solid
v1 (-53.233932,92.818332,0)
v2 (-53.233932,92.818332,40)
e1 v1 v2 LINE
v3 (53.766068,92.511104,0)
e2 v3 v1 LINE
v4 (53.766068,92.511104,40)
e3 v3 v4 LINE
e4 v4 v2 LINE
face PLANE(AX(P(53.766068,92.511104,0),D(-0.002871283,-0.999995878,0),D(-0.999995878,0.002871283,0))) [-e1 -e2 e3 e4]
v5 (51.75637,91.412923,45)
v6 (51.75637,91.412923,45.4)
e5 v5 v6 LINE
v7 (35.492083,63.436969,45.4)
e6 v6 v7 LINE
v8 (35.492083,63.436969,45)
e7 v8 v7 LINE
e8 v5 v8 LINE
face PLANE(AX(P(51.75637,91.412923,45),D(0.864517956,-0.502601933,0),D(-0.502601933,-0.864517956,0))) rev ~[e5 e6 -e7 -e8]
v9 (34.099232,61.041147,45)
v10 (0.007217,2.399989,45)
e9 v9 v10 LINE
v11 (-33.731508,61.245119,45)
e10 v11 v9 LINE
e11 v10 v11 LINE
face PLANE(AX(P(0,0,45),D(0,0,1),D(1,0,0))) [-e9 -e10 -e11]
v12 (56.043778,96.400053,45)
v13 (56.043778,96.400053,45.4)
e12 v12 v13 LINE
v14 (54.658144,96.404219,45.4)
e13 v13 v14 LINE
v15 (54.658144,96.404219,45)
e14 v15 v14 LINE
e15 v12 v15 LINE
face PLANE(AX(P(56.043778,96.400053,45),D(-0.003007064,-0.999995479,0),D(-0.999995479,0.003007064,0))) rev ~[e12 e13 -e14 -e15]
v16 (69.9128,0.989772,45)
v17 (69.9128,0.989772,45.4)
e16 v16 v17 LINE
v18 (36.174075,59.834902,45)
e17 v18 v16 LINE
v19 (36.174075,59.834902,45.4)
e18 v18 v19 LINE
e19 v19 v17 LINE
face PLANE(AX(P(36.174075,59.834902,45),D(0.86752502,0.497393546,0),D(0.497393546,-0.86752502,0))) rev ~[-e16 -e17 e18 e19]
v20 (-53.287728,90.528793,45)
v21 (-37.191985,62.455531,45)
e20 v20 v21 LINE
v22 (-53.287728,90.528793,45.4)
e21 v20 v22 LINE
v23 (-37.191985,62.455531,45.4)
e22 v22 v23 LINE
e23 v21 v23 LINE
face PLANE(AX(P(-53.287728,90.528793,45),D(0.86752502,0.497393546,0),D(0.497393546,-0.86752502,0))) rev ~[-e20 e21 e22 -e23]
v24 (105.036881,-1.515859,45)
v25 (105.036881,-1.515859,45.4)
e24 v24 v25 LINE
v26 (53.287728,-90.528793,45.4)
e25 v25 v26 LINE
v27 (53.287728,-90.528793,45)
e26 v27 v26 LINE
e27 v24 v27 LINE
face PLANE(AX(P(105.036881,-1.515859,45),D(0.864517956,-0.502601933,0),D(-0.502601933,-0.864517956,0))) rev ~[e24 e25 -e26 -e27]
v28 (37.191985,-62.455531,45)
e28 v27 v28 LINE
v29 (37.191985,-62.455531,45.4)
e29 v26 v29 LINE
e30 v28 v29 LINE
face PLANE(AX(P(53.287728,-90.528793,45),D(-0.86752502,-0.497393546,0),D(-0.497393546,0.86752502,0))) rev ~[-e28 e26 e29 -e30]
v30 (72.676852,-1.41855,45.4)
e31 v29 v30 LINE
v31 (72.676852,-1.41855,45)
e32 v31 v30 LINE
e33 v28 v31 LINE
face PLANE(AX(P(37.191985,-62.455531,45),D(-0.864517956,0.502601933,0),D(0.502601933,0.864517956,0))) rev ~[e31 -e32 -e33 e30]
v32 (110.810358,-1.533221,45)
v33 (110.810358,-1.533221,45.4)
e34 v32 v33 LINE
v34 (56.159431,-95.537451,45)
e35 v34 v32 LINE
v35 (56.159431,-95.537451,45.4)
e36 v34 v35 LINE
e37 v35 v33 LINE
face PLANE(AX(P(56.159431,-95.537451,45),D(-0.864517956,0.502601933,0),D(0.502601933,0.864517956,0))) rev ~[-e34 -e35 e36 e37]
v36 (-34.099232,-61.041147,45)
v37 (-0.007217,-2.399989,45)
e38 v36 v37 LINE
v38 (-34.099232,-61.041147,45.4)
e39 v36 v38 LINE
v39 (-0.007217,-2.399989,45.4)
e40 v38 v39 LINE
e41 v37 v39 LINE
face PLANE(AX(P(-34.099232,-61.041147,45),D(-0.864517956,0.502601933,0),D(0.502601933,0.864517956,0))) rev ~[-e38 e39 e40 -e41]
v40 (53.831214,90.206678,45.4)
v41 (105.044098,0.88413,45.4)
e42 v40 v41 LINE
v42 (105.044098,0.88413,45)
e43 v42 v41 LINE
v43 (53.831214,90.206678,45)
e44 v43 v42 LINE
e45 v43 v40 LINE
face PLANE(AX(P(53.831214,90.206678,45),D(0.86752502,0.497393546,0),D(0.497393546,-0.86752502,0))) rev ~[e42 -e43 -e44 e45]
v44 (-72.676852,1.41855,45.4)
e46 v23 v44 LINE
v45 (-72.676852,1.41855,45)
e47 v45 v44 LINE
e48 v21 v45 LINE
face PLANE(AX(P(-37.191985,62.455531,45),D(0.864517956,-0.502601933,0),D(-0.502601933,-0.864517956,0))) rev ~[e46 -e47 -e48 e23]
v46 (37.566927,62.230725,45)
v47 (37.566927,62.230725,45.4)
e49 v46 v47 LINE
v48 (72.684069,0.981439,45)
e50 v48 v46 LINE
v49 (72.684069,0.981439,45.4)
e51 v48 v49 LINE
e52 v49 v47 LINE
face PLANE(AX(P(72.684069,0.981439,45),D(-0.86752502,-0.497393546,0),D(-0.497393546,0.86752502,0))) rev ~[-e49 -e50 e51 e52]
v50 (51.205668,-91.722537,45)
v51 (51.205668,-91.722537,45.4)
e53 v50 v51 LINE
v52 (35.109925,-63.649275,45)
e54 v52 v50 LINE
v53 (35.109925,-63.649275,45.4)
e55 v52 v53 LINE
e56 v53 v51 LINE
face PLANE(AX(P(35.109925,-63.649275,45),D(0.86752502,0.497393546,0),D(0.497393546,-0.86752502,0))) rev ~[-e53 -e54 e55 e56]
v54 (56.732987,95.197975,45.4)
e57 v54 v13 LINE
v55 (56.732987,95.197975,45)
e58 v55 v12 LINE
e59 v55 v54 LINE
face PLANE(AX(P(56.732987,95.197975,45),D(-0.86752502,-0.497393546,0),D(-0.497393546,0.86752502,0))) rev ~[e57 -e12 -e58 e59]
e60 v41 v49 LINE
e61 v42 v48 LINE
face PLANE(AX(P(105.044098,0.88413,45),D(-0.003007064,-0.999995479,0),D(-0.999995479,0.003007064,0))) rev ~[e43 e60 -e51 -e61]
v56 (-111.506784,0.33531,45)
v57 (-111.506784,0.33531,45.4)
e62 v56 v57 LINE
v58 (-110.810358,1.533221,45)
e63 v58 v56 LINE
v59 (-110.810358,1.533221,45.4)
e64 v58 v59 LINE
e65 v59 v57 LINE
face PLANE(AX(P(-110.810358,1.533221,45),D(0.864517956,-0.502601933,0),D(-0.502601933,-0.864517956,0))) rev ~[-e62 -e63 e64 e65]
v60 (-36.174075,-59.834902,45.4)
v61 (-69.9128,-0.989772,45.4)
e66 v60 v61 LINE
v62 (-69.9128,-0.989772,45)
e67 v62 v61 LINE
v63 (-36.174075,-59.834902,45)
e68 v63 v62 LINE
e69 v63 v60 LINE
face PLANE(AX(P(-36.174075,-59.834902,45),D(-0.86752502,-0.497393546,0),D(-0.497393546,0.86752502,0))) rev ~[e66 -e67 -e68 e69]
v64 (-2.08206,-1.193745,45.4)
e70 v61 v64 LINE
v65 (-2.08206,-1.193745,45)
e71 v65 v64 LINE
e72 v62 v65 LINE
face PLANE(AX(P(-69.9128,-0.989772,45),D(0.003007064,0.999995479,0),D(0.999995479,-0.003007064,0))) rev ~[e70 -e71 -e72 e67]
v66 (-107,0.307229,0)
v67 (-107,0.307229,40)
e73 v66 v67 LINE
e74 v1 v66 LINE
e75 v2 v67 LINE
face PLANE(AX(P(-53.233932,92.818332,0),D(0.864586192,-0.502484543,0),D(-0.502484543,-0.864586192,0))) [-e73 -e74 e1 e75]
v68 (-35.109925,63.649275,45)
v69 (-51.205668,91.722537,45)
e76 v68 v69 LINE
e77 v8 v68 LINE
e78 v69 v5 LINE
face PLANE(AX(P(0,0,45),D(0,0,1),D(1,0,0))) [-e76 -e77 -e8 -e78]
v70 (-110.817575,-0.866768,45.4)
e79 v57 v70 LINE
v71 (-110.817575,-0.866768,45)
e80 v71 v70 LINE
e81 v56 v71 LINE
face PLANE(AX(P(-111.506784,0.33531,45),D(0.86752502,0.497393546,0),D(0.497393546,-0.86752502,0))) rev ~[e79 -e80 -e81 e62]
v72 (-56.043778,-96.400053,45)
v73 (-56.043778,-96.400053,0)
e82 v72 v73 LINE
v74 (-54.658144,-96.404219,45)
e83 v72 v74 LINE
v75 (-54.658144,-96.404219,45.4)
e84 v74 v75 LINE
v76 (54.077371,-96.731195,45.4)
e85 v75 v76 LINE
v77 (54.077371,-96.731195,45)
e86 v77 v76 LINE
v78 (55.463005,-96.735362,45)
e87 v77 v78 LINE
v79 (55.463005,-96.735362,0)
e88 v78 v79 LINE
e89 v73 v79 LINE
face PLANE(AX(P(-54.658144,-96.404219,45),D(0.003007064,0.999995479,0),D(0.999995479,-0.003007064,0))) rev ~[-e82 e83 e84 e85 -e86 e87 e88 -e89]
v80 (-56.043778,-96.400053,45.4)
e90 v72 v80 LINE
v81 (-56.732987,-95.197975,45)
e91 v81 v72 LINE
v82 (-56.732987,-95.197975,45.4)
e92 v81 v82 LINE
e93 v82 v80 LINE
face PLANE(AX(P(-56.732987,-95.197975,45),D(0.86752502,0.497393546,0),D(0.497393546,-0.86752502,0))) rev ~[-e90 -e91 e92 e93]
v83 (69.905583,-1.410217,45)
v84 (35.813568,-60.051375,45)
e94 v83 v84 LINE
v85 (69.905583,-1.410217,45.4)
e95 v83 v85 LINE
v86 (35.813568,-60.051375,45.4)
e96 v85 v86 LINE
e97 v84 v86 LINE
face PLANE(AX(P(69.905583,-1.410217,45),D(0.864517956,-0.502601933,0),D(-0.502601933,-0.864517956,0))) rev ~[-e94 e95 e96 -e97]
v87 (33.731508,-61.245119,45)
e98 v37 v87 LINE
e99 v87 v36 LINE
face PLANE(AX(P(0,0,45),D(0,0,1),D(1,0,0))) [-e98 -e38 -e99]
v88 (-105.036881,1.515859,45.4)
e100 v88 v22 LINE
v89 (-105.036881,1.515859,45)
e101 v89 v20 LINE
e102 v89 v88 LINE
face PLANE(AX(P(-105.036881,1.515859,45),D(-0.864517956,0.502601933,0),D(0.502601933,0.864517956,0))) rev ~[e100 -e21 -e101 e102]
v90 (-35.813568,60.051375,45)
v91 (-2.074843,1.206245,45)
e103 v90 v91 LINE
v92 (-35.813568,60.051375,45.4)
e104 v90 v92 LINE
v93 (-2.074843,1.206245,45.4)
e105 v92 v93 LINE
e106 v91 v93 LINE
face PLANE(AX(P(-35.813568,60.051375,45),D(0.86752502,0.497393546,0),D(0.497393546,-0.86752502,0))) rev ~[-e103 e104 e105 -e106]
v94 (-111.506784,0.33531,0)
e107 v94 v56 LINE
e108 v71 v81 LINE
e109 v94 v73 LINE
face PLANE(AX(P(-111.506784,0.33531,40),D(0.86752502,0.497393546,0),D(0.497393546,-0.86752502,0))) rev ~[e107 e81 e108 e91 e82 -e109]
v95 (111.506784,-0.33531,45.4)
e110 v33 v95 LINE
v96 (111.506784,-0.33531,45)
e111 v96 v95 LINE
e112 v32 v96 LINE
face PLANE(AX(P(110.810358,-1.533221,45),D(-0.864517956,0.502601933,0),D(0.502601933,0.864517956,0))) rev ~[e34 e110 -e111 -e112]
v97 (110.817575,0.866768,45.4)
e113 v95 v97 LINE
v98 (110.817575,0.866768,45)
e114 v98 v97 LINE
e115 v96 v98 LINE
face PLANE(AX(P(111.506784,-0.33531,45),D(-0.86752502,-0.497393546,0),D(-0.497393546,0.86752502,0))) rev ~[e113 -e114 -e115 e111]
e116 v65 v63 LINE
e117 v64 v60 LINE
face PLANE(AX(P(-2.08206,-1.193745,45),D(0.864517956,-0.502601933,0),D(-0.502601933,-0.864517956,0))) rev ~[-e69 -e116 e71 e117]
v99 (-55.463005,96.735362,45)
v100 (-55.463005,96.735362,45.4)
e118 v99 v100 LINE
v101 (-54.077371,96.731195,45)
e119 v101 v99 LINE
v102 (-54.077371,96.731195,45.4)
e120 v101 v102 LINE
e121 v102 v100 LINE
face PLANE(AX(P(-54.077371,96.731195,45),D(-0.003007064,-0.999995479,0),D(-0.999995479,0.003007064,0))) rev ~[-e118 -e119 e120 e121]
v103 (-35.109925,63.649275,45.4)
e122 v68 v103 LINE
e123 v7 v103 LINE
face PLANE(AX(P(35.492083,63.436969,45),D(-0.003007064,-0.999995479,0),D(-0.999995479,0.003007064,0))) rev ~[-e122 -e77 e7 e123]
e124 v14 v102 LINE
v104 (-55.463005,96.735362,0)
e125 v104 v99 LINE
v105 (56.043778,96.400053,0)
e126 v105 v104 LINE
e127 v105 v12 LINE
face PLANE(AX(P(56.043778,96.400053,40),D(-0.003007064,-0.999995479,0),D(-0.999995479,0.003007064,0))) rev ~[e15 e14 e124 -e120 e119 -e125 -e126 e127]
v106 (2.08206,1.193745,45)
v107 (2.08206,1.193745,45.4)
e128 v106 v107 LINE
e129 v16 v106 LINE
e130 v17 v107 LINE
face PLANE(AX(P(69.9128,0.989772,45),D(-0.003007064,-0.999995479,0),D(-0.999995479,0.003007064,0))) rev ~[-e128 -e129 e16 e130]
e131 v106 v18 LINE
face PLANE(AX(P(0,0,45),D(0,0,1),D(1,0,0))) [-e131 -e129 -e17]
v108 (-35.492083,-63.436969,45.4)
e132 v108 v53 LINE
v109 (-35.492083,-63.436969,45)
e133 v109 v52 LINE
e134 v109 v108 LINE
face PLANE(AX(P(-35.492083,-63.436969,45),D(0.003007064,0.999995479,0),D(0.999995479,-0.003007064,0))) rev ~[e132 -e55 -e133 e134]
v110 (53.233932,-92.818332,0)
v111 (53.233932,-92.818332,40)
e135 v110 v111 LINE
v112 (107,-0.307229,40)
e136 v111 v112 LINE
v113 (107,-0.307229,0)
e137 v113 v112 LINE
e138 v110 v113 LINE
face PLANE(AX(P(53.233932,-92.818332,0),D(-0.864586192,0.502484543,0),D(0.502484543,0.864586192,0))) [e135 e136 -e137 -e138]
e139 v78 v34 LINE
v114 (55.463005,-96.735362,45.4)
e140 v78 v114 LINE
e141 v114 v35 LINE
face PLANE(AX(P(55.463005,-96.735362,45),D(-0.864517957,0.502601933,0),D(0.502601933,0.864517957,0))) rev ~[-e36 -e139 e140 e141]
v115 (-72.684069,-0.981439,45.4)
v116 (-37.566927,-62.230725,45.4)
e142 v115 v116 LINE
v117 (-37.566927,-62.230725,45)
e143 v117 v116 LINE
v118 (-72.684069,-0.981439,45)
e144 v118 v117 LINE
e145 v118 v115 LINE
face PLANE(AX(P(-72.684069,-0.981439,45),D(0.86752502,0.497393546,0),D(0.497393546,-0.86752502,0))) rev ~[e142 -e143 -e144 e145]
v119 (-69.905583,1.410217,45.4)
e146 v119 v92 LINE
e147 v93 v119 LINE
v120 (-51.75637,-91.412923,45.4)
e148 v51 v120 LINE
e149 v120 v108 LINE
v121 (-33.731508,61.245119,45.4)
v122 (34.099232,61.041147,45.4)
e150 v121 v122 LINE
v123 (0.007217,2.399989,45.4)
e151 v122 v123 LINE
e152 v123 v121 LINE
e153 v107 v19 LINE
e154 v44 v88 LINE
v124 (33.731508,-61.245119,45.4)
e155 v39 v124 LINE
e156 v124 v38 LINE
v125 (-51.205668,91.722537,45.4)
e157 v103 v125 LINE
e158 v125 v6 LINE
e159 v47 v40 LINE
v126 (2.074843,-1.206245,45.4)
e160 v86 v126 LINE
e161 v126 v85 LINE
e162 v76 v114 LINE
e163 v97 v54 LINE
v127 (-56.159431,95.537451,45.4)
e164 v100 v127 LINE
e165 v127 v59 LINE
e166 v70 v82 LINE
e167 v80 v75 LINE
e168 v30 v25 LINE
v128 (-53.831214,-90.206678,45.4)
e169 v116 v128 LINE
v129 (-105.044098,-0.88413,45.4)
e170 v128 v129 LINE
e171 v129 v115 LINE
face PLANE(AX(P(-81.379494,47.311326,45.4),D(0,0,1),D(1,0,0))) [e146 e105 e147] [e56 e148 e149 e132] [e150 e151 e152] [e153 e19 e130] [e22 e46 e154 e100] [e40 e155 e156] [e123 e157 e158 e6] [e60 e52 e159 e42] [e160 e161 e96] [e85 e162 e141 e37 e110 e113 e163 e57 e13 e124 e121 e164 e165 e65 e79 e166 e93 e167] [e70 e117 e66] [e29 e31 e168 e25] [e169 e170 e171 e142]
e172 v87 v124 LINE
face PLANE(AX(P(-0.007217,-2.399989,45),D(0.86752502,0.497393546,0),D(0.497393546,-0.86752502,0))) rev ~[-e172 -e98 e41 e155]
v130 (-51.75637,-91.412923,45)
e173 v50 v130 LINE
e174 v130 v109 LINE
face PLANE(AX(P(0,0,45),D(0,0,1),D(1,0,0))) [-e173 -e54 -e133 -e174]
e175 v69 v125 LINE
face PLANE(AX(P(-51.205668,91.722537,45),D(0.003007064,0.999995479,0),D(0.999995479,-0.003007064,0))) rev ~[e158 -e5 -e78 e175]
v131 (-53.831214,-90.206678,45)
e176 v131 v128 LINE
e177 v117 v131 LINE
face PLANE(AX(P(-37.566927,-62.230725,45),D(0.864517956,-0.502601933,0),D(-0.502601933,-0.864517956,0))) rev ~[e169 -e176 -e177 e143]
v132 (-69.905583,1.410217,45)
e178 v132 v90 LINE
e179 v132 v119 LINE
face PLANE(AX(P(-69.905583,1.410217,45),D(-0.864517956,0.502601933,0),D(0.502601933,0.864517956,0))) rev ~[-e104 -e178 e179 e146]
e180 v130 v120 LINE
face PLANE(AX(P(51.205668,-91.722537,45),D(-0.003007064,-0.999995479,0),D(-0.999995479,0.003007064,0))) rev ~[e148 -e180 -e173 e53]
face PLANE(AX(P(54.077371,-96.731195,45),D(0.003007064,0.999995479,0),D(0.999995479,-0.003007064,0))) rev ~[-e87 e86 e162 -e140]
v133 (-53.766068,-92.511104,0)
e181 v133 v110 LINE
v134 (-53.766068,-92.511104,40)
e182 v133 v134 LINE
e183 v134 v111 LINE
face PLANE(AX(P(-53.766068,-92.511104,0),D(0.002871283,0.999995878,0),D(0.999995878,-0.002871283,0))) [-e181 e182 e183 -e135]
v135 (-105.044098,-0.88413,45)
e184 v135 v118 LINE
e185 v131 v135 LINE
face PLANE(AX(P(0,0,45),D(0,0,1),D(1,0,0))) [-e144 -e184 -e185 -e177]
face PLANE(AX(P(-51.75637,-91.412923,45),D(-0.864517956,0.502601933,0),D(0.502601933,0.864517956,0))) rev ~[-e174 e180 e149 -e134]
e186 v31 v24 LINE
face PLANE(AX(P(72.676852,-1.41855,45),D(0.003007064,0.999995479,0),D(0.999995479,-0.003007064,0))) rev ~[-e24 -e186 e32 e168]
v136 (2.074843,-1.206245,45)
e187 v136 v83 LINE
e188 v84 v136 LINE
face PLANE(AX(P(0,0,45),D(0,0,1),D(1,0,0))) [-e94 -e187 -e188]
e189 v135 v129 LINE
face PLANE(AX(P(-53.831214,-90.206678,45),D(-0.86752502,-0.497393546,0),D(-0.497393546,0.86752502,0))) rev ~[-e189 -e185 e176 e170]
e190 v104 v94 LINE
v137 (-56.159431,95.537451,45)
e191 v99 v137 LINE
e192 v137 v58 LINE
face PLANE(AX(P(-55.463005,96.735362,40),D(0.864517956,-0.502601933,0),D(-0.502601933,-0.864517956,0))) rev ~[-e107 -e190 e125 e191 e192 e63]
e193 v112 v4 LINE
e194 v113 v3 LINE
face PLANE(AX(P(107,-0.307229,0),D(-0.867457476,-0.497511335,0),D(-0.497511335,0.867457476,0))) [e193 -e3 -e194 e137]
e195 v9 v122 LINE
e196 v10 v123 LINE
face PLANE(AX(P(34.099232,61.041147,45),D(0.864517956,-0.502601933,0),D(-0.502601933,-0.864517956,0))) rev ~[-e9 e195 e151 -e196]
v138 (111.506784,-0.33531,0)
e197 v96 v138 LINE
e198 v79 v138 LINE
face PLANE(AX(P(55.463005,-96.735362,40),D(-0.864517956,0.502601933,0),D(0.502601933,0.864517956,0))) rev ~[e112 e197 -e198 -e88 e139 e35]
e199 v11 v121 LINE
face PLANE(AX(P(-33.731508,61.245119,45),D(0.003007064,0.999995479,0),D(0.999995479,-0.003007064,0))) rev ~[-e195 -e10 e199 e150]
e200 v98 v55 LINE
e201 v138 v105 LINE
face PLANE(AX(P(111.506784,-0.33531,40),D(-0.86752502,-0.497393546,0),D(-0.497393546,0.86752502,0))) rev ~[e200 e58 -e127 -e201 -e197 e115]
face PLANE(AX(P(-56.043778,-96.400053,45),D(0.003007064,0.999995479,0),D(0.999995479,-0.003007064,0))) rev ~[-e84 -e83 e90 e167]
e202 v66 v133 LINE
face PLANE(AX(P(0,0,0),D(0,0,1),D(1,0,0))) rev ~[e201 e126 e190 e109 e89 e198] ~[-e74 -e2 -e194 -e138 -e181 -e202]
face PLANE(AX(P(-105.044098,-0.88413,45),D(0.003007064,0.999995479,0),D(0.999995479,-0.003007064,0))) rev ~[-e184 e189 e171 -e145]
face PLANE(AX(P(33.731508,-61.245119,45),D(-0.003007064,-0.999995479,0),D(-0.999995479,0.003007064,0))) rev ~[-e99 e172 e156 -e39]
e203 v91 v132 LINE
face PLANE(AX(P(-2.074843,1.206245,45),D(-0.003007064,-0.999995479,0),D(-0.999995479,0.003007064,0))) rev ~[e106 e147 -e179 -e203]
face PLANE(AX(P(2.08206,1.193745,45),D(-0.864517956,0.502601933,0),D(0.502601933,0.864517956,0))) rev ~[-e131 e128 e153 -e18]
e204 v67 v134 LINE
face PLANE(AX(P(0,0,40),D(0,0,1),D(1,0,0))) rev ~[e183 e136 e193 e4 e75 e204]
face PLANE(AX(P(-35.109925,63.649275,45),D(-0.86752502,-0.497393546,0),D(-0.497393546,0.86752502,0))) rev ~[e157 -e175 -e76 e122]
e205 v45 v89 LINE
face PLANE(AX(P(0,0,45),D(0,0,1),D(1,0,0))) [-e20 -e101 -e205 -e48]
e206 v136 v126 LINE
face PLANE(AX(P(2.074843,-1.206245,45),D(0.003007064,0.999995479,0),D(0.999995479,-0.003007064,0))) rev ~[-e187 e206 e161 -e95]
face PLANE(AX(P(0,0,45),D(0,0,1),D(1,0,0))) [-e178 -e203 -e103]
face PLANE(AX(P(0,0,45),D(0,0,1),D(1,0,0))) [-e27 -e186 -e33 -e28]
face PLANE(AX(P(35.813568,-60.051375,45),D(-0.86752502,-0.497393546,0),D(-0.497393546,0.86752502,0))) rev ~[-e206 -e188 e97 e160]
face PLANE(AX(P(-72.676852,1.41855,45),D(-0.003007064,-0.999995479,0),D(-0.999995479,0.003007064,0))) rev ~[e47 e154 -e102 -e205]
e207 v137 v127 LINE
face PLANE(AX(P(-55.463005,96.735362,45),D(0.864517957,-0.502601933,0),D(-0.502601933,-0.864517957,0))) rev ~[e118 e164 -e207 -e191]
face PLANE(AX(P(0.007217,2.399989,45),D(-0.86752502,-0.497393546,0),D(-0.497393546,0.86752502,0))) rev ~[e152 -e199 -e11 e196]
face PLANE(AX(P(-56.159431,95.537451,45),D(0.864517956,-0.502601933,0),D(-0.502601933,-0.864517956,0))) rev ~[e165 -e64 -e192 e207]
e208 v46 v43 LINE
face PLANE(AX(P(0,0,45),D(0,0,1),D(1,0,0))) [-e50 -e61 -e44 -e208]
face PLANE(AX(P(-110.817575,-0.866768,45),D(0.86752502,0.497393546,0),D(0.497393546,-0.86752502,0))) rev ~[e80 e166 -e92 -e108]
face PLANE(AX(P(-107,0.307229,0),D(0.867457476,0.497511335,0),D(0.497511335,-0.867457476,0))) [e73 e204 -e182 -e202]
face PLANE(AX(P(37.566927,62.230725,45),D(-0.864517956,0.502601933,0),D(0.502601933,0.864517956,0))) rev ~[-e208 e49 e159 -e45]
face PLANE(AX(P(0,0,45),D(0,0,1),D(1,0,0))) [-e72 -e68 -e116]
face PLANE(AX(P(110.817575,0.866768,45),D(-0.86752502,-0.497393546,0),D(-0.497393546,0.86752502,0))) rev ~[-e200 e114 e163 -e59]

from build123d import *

# Parameters (mm, degrees)
SALIENTE_EXTRUIR1_DEPTH = 40
SALIENTE_EXTRUIR2_DEPTH = 5
SALIENTE_EXTRUIR3_DEPTH = 0.4


with BuildPart() as part:
    # Croquis1 → Saliente-Extruir1 (new body)
    with BuildSketch(Plane.XY):
        Polygon((-55.463005259, 96.735362128), (-111.506783676, 0.33530954), (-56.043778418, -96.400052588), (55.463005259, -96.735362128), (111.506783676, -0.33530954), (56.043778418, 96.400052588), align=None)
        Polygon((53.766067764, 92.51110391), (-53.233932236, 92.8183325), (-107, 0.30722859), (-53.766067764, -92.51110391), (53.233932236, -92.8183325), (107, -0.30722859), align=None, mode=Mode.SUBTRACT)
    extrude(amount=SALIENTE_EXTRUIR1_DEPTH)

    # Croquis2 → Saliente-Extruir2 (add)
    with BuildSketch(Plane.XY.offset(40)):
        Polygon((111.506783676, -0.33530954), (56.043778418, 96.400052588), (-55.463005259, 96.735362128), (-111.506783676, 0.33530954), (-56.043778418, -96.400052588), (55.463005259, -96.735362128), align=None)
    extrude(amount=SALIENTE_EXTRUIR2_DEPTH)

    # Croquis4 → Saliente-Extruir3 (add)
    with BuildSketch(Plane.XY.offset(45)):
        Polygon((-56.159430926, 95.537450908), (-110.810358009, 1.533220759), (-105.03688142, 1.515859468), (-53.287727951, 90.528792869), align=None)
        Polygon((-111.506783676, 0.33530954), (-110.817574962, -0.86676839), (-105.044098374, -0.884129681), (-105.733307088, 0.317948248), (-105.03688142, 1.515859468), (-110.810358009, 1.533220759), align=None)
        Polygon((-105.044098374, -0.884129681), (-110.817574962, -0.86676839), (-56.732987132, -95.197974658), (-53.831213518, -90.20667791), align=None)
        Polygon((-105.733307088, 0.317948248), (-105.044098374, -0.884129681), (-72.68406869, -0.981438798), (-73.373277404, 0.220639131), (-72.676851737, 1.418550351), (-105.03688142, 1.515859468), align=None)
        Polygon((-55.463005259, 96.735362128), (-56.159430926, 95.537450908), (-53.287727951, 90.528792869), (-52.591302284, 91.726704088), (-51.205667902, 91.722537378), (-54.077370877, 96.731195418), align=None)
        Polygon((54.658144036, 96.404219298), (-54.077370877, 96.731195418), (-51.205667902, 91.722537378), (51.756370423, 91.41292255), align=None)
        Polygon((-52.591302284, 91.726704088), (-53.287727951, 90.528792869), (-37.191985277, 62.455530537), (-36.495559609, 63.653441757), (-35.109925228, 63.649275047), (-51.205667902, 91.722537378), align=None)
        Polygon((56.043778418, 96.400052588), (54.658144036, 96.404219298), (51.756370423, 91.41292255), (53.142004804, 91.40875584), (53.831213518, 90.20667791), (56.732987132, 95.197974658), align=None)
        Polygon((53.142004804, 91.40875584), (51.756370423, 91.41292255), (35.492083414, 63.436969335), (36.877717795, 63.432802625), (37.566926509, 62.230724696), (53.831213518, 90.20667791), align=None)
        Polygon((110.817574962, 0.86676839), (56.732987132, 95.197974658), (53.831213518, 90.20667791), (105.044098374, 0.884129681), align=None)
        Polygon((72.676851737, -1.418550351), (105.03688142, -1.515859468), (105.733307088, -0.317948248), (105.044098374, 0.884129681), (72.68406869, 0.981438798), (73.373277404, -0.220639131), align=None)
        Polygon((105.03688142, -1.515859468), (110.810358009, -1.533220759), (111.506783676, -0.33530954), (110.817574962, 0.86676839), (105.044098374, 0.884129681), (105.733307088, -0.317948248), align=None)
        Polygon((53.287727951, -90.528792869), (56.159430926, -95.537450908), (110.810358009, -1.533220759), (105.03688142, -1.515859468), align=None)
        Polygon((-53.831213518, -90.20667791), (-56.732987132, -95.197974658), (-56.043778418, -96.400052588), (-54.658144036, -96.404219298), (-51.756370423, -91.41292255), (-53.142004804, -91.40875584), align=None)
        Polygon((-51.756370423, -91.41292255), (-54.658144036, -96.404219298), (54.077370877, -96.731195418), (51.205667902, -91.722537378), align=None)
        Polygon((51.205667902, -91.722537378), (54.077370877, -96.731195418), (55.463005259, -96.735362128), (56.159430926, -95.537450908), (53.287727951, -90.528792869), (52.591302284, -91.726704088), align=None)
        Polygon((35.109925228, -63.649275047), (51.205667902, -91.722537378), (52.591302284, -91.726704088), (53.287727951, -90.528792869), (37.191985277, -62.455530537), (36.495559609, -63.653441757), align=None)
        Polygon((-37.566926509, -62.230724696), (-53.831213518, -90.20667791), (-53.142004804, -91.40875584), (-51.756370423, -91.41292255), (-35.492083414, -63.436969335), (-36.877717795, -63.432802625), align=None)
        Polygon((-36.174075174, -59.834902257), (-37.566926509, -62.230724696), (-36.877717795, -63.432802625), (-35.492083414, -63.436969335), (-34.099232079, -61.041146896), (-35.48486646, -61.036980186), align=None)
        Polygon((-34.099232079, -61.041146896), (-35.492083414, -63.436969335), (35.109925228, -63.649275047), (33.7315078, -61.245119188), align=None)
        Polygon((-69.912799928, -0.989772218), (-72.68406869, -0.981438798), (-37.566926509, -62.230724696), (-36.174075174, -59.834902257), align=None)
        Polygon((33.7315078, -61.245119188), (35.109925228, -63.649275047), (36.495559609, -63.653441757), (37.191985277, -62.455530537), (35.813567849, -60.051374678), (35.117142181, -61.249285898), align=None)
        Polygon((2.074843095, -1.206244639), (0.689208714, -1.20207793), (-0.007216953, -2.399989149), (33.7315078, -61.245119188), (35.117142181, -61.249285898), (35.813567849, -60.051374678), align=None)
        Polygon((-0.696425667, -1.19791122), (-2.082060049, -1.19374451), (-36.174075174, -59.834902257), (-35.48486646, -61.036980186), (-34.099232079, -61.041146896), (-0.007216953, -2.399989149), align=None)
        Polygon((72.676851737, -1.418550351), (69.905582974, -1.410216931), (35.813567849, -60.051374678), (37.191985277, -62.455530537), align=None)
        Polygon((70.602008642, -0.212305711), (69.905582974, -1.410216931), (72.676851737, -1.418550351), (73.373277404, -0.220639131), (72.68406869, 0.981438798), (69.912799928, 0.989772218), align=None)
        Polygon((36.174075174, 59.834902257), (69.912799928, 0.989772218), (72.68406869, 0.981438798), (37.566926509, 62.230724696), align=None)
        Polygon((0.689208714, -1.20207793), (-0.696425667, -1.19791122), (-0.007216953, -2.399989149), align=None)
        Polygon((-1.385634381, 0.00416671), (-2.082060049, -1.19374451), (-0.696425667, -1.19791122), align=None)
        Polygon((-1.385634381, 0.00416671), (-0.696425667, -1.19791122), (0.689208714, -1.20207793), (1.385634381, -0.00416671), (0.696425667, 1.19791122), (-0.689208714, 1.20207793), align=None)
        Polygon((-2.074843095, 1.206244639), (-1.385634381, 0.00416671), (-0.689208714, 1.20207793), align=None)
        Polygon((0.007216953, 2.399989149), (-0.689208714, 1.20207793), (0.696425667, 1.19791122), align=None)
        Polygon((0.696425667, 1.19791122), (1.385634381, -0.00416671), (2.082060049, 1.19374451), align=None)
        Polygon((1.385634381, -0.00416671), (0.689208714, -1.20207793), (2.074843095, -1.206244639), align=None)
        Polygon((1.385634381, -0.00416671), (2.074843095, -1.206244639), (69.905582974, -1.410216931), (70.602008642, -0.212305711), (69.912799928, 0.989772218), (2.082060049, 1.19374451), align=None)
        Polygon((-70.602008642, 0.212305711), (-69.912799928, -0.989772218), (-2.082060049, -1.19374451), (-1.385634381, 0.00416671), (-2.074843095, 1.206244639), (-69.905582974, 1.410216931), align=None)
        Polygon((-35.813567849, 60.051374678), (-2.074843095, 1.206244639), (-0.689208714, 1.20207793), (0.007216953, 2.399989149), (-33.7315078, 61.245119188), (-35.117142181, 61.249285898), align=None)
        Polygon((0.007216953, 2.399989149), (0.696425667, 1.19791122), (2.082060049, 1.19374451), (36.174075174, 59.834902257), (35.48486646, 61.036980186), (34.099232079, 61.041146896), align=None)
        Polygon((35.492083414, 63.436969335), (34.099232079, 61.041146896), (35.48486646, 61.036980186), (36.174075174, 59.834902257), (37.566926509, 62.230724696), (36.877717795, 63.432802625), align=None)
        Polygon((35.492083414, 63.436969335), (-35.109925228, 63.649275047), (-33.7315078, 61.245119188), (34.099232079, 61.041146896), align=None)
        Polygon((-36.495559609, 63.653441757), (-37.191985277, 62.455530537), (-35.813567849, 60.051374678), (-35.117142181, 61.249285898), (-33.7315078, 61.245119188), (-35.109925228, 63.649275047), align=None)
        Polygon((-37.191985277, 62.455530537), (-72.676851737, 1.418550351), (-69.905582974, 1.410216931), (-35.813567849, 60.051374678), align=None)
        Polygon((-73.373277404, 0.220639131), (-72.68406869, -0.981438798), (-69.912799928, -0.989772218), (-70.602008642, 0.212305711), (-69.905582974, 1.410216931), (-72.676851737, 1.418550351), align=None)
    extrude(amount=SALIENTE_EXTRUIR3_DEPTH)


solid = part.part
